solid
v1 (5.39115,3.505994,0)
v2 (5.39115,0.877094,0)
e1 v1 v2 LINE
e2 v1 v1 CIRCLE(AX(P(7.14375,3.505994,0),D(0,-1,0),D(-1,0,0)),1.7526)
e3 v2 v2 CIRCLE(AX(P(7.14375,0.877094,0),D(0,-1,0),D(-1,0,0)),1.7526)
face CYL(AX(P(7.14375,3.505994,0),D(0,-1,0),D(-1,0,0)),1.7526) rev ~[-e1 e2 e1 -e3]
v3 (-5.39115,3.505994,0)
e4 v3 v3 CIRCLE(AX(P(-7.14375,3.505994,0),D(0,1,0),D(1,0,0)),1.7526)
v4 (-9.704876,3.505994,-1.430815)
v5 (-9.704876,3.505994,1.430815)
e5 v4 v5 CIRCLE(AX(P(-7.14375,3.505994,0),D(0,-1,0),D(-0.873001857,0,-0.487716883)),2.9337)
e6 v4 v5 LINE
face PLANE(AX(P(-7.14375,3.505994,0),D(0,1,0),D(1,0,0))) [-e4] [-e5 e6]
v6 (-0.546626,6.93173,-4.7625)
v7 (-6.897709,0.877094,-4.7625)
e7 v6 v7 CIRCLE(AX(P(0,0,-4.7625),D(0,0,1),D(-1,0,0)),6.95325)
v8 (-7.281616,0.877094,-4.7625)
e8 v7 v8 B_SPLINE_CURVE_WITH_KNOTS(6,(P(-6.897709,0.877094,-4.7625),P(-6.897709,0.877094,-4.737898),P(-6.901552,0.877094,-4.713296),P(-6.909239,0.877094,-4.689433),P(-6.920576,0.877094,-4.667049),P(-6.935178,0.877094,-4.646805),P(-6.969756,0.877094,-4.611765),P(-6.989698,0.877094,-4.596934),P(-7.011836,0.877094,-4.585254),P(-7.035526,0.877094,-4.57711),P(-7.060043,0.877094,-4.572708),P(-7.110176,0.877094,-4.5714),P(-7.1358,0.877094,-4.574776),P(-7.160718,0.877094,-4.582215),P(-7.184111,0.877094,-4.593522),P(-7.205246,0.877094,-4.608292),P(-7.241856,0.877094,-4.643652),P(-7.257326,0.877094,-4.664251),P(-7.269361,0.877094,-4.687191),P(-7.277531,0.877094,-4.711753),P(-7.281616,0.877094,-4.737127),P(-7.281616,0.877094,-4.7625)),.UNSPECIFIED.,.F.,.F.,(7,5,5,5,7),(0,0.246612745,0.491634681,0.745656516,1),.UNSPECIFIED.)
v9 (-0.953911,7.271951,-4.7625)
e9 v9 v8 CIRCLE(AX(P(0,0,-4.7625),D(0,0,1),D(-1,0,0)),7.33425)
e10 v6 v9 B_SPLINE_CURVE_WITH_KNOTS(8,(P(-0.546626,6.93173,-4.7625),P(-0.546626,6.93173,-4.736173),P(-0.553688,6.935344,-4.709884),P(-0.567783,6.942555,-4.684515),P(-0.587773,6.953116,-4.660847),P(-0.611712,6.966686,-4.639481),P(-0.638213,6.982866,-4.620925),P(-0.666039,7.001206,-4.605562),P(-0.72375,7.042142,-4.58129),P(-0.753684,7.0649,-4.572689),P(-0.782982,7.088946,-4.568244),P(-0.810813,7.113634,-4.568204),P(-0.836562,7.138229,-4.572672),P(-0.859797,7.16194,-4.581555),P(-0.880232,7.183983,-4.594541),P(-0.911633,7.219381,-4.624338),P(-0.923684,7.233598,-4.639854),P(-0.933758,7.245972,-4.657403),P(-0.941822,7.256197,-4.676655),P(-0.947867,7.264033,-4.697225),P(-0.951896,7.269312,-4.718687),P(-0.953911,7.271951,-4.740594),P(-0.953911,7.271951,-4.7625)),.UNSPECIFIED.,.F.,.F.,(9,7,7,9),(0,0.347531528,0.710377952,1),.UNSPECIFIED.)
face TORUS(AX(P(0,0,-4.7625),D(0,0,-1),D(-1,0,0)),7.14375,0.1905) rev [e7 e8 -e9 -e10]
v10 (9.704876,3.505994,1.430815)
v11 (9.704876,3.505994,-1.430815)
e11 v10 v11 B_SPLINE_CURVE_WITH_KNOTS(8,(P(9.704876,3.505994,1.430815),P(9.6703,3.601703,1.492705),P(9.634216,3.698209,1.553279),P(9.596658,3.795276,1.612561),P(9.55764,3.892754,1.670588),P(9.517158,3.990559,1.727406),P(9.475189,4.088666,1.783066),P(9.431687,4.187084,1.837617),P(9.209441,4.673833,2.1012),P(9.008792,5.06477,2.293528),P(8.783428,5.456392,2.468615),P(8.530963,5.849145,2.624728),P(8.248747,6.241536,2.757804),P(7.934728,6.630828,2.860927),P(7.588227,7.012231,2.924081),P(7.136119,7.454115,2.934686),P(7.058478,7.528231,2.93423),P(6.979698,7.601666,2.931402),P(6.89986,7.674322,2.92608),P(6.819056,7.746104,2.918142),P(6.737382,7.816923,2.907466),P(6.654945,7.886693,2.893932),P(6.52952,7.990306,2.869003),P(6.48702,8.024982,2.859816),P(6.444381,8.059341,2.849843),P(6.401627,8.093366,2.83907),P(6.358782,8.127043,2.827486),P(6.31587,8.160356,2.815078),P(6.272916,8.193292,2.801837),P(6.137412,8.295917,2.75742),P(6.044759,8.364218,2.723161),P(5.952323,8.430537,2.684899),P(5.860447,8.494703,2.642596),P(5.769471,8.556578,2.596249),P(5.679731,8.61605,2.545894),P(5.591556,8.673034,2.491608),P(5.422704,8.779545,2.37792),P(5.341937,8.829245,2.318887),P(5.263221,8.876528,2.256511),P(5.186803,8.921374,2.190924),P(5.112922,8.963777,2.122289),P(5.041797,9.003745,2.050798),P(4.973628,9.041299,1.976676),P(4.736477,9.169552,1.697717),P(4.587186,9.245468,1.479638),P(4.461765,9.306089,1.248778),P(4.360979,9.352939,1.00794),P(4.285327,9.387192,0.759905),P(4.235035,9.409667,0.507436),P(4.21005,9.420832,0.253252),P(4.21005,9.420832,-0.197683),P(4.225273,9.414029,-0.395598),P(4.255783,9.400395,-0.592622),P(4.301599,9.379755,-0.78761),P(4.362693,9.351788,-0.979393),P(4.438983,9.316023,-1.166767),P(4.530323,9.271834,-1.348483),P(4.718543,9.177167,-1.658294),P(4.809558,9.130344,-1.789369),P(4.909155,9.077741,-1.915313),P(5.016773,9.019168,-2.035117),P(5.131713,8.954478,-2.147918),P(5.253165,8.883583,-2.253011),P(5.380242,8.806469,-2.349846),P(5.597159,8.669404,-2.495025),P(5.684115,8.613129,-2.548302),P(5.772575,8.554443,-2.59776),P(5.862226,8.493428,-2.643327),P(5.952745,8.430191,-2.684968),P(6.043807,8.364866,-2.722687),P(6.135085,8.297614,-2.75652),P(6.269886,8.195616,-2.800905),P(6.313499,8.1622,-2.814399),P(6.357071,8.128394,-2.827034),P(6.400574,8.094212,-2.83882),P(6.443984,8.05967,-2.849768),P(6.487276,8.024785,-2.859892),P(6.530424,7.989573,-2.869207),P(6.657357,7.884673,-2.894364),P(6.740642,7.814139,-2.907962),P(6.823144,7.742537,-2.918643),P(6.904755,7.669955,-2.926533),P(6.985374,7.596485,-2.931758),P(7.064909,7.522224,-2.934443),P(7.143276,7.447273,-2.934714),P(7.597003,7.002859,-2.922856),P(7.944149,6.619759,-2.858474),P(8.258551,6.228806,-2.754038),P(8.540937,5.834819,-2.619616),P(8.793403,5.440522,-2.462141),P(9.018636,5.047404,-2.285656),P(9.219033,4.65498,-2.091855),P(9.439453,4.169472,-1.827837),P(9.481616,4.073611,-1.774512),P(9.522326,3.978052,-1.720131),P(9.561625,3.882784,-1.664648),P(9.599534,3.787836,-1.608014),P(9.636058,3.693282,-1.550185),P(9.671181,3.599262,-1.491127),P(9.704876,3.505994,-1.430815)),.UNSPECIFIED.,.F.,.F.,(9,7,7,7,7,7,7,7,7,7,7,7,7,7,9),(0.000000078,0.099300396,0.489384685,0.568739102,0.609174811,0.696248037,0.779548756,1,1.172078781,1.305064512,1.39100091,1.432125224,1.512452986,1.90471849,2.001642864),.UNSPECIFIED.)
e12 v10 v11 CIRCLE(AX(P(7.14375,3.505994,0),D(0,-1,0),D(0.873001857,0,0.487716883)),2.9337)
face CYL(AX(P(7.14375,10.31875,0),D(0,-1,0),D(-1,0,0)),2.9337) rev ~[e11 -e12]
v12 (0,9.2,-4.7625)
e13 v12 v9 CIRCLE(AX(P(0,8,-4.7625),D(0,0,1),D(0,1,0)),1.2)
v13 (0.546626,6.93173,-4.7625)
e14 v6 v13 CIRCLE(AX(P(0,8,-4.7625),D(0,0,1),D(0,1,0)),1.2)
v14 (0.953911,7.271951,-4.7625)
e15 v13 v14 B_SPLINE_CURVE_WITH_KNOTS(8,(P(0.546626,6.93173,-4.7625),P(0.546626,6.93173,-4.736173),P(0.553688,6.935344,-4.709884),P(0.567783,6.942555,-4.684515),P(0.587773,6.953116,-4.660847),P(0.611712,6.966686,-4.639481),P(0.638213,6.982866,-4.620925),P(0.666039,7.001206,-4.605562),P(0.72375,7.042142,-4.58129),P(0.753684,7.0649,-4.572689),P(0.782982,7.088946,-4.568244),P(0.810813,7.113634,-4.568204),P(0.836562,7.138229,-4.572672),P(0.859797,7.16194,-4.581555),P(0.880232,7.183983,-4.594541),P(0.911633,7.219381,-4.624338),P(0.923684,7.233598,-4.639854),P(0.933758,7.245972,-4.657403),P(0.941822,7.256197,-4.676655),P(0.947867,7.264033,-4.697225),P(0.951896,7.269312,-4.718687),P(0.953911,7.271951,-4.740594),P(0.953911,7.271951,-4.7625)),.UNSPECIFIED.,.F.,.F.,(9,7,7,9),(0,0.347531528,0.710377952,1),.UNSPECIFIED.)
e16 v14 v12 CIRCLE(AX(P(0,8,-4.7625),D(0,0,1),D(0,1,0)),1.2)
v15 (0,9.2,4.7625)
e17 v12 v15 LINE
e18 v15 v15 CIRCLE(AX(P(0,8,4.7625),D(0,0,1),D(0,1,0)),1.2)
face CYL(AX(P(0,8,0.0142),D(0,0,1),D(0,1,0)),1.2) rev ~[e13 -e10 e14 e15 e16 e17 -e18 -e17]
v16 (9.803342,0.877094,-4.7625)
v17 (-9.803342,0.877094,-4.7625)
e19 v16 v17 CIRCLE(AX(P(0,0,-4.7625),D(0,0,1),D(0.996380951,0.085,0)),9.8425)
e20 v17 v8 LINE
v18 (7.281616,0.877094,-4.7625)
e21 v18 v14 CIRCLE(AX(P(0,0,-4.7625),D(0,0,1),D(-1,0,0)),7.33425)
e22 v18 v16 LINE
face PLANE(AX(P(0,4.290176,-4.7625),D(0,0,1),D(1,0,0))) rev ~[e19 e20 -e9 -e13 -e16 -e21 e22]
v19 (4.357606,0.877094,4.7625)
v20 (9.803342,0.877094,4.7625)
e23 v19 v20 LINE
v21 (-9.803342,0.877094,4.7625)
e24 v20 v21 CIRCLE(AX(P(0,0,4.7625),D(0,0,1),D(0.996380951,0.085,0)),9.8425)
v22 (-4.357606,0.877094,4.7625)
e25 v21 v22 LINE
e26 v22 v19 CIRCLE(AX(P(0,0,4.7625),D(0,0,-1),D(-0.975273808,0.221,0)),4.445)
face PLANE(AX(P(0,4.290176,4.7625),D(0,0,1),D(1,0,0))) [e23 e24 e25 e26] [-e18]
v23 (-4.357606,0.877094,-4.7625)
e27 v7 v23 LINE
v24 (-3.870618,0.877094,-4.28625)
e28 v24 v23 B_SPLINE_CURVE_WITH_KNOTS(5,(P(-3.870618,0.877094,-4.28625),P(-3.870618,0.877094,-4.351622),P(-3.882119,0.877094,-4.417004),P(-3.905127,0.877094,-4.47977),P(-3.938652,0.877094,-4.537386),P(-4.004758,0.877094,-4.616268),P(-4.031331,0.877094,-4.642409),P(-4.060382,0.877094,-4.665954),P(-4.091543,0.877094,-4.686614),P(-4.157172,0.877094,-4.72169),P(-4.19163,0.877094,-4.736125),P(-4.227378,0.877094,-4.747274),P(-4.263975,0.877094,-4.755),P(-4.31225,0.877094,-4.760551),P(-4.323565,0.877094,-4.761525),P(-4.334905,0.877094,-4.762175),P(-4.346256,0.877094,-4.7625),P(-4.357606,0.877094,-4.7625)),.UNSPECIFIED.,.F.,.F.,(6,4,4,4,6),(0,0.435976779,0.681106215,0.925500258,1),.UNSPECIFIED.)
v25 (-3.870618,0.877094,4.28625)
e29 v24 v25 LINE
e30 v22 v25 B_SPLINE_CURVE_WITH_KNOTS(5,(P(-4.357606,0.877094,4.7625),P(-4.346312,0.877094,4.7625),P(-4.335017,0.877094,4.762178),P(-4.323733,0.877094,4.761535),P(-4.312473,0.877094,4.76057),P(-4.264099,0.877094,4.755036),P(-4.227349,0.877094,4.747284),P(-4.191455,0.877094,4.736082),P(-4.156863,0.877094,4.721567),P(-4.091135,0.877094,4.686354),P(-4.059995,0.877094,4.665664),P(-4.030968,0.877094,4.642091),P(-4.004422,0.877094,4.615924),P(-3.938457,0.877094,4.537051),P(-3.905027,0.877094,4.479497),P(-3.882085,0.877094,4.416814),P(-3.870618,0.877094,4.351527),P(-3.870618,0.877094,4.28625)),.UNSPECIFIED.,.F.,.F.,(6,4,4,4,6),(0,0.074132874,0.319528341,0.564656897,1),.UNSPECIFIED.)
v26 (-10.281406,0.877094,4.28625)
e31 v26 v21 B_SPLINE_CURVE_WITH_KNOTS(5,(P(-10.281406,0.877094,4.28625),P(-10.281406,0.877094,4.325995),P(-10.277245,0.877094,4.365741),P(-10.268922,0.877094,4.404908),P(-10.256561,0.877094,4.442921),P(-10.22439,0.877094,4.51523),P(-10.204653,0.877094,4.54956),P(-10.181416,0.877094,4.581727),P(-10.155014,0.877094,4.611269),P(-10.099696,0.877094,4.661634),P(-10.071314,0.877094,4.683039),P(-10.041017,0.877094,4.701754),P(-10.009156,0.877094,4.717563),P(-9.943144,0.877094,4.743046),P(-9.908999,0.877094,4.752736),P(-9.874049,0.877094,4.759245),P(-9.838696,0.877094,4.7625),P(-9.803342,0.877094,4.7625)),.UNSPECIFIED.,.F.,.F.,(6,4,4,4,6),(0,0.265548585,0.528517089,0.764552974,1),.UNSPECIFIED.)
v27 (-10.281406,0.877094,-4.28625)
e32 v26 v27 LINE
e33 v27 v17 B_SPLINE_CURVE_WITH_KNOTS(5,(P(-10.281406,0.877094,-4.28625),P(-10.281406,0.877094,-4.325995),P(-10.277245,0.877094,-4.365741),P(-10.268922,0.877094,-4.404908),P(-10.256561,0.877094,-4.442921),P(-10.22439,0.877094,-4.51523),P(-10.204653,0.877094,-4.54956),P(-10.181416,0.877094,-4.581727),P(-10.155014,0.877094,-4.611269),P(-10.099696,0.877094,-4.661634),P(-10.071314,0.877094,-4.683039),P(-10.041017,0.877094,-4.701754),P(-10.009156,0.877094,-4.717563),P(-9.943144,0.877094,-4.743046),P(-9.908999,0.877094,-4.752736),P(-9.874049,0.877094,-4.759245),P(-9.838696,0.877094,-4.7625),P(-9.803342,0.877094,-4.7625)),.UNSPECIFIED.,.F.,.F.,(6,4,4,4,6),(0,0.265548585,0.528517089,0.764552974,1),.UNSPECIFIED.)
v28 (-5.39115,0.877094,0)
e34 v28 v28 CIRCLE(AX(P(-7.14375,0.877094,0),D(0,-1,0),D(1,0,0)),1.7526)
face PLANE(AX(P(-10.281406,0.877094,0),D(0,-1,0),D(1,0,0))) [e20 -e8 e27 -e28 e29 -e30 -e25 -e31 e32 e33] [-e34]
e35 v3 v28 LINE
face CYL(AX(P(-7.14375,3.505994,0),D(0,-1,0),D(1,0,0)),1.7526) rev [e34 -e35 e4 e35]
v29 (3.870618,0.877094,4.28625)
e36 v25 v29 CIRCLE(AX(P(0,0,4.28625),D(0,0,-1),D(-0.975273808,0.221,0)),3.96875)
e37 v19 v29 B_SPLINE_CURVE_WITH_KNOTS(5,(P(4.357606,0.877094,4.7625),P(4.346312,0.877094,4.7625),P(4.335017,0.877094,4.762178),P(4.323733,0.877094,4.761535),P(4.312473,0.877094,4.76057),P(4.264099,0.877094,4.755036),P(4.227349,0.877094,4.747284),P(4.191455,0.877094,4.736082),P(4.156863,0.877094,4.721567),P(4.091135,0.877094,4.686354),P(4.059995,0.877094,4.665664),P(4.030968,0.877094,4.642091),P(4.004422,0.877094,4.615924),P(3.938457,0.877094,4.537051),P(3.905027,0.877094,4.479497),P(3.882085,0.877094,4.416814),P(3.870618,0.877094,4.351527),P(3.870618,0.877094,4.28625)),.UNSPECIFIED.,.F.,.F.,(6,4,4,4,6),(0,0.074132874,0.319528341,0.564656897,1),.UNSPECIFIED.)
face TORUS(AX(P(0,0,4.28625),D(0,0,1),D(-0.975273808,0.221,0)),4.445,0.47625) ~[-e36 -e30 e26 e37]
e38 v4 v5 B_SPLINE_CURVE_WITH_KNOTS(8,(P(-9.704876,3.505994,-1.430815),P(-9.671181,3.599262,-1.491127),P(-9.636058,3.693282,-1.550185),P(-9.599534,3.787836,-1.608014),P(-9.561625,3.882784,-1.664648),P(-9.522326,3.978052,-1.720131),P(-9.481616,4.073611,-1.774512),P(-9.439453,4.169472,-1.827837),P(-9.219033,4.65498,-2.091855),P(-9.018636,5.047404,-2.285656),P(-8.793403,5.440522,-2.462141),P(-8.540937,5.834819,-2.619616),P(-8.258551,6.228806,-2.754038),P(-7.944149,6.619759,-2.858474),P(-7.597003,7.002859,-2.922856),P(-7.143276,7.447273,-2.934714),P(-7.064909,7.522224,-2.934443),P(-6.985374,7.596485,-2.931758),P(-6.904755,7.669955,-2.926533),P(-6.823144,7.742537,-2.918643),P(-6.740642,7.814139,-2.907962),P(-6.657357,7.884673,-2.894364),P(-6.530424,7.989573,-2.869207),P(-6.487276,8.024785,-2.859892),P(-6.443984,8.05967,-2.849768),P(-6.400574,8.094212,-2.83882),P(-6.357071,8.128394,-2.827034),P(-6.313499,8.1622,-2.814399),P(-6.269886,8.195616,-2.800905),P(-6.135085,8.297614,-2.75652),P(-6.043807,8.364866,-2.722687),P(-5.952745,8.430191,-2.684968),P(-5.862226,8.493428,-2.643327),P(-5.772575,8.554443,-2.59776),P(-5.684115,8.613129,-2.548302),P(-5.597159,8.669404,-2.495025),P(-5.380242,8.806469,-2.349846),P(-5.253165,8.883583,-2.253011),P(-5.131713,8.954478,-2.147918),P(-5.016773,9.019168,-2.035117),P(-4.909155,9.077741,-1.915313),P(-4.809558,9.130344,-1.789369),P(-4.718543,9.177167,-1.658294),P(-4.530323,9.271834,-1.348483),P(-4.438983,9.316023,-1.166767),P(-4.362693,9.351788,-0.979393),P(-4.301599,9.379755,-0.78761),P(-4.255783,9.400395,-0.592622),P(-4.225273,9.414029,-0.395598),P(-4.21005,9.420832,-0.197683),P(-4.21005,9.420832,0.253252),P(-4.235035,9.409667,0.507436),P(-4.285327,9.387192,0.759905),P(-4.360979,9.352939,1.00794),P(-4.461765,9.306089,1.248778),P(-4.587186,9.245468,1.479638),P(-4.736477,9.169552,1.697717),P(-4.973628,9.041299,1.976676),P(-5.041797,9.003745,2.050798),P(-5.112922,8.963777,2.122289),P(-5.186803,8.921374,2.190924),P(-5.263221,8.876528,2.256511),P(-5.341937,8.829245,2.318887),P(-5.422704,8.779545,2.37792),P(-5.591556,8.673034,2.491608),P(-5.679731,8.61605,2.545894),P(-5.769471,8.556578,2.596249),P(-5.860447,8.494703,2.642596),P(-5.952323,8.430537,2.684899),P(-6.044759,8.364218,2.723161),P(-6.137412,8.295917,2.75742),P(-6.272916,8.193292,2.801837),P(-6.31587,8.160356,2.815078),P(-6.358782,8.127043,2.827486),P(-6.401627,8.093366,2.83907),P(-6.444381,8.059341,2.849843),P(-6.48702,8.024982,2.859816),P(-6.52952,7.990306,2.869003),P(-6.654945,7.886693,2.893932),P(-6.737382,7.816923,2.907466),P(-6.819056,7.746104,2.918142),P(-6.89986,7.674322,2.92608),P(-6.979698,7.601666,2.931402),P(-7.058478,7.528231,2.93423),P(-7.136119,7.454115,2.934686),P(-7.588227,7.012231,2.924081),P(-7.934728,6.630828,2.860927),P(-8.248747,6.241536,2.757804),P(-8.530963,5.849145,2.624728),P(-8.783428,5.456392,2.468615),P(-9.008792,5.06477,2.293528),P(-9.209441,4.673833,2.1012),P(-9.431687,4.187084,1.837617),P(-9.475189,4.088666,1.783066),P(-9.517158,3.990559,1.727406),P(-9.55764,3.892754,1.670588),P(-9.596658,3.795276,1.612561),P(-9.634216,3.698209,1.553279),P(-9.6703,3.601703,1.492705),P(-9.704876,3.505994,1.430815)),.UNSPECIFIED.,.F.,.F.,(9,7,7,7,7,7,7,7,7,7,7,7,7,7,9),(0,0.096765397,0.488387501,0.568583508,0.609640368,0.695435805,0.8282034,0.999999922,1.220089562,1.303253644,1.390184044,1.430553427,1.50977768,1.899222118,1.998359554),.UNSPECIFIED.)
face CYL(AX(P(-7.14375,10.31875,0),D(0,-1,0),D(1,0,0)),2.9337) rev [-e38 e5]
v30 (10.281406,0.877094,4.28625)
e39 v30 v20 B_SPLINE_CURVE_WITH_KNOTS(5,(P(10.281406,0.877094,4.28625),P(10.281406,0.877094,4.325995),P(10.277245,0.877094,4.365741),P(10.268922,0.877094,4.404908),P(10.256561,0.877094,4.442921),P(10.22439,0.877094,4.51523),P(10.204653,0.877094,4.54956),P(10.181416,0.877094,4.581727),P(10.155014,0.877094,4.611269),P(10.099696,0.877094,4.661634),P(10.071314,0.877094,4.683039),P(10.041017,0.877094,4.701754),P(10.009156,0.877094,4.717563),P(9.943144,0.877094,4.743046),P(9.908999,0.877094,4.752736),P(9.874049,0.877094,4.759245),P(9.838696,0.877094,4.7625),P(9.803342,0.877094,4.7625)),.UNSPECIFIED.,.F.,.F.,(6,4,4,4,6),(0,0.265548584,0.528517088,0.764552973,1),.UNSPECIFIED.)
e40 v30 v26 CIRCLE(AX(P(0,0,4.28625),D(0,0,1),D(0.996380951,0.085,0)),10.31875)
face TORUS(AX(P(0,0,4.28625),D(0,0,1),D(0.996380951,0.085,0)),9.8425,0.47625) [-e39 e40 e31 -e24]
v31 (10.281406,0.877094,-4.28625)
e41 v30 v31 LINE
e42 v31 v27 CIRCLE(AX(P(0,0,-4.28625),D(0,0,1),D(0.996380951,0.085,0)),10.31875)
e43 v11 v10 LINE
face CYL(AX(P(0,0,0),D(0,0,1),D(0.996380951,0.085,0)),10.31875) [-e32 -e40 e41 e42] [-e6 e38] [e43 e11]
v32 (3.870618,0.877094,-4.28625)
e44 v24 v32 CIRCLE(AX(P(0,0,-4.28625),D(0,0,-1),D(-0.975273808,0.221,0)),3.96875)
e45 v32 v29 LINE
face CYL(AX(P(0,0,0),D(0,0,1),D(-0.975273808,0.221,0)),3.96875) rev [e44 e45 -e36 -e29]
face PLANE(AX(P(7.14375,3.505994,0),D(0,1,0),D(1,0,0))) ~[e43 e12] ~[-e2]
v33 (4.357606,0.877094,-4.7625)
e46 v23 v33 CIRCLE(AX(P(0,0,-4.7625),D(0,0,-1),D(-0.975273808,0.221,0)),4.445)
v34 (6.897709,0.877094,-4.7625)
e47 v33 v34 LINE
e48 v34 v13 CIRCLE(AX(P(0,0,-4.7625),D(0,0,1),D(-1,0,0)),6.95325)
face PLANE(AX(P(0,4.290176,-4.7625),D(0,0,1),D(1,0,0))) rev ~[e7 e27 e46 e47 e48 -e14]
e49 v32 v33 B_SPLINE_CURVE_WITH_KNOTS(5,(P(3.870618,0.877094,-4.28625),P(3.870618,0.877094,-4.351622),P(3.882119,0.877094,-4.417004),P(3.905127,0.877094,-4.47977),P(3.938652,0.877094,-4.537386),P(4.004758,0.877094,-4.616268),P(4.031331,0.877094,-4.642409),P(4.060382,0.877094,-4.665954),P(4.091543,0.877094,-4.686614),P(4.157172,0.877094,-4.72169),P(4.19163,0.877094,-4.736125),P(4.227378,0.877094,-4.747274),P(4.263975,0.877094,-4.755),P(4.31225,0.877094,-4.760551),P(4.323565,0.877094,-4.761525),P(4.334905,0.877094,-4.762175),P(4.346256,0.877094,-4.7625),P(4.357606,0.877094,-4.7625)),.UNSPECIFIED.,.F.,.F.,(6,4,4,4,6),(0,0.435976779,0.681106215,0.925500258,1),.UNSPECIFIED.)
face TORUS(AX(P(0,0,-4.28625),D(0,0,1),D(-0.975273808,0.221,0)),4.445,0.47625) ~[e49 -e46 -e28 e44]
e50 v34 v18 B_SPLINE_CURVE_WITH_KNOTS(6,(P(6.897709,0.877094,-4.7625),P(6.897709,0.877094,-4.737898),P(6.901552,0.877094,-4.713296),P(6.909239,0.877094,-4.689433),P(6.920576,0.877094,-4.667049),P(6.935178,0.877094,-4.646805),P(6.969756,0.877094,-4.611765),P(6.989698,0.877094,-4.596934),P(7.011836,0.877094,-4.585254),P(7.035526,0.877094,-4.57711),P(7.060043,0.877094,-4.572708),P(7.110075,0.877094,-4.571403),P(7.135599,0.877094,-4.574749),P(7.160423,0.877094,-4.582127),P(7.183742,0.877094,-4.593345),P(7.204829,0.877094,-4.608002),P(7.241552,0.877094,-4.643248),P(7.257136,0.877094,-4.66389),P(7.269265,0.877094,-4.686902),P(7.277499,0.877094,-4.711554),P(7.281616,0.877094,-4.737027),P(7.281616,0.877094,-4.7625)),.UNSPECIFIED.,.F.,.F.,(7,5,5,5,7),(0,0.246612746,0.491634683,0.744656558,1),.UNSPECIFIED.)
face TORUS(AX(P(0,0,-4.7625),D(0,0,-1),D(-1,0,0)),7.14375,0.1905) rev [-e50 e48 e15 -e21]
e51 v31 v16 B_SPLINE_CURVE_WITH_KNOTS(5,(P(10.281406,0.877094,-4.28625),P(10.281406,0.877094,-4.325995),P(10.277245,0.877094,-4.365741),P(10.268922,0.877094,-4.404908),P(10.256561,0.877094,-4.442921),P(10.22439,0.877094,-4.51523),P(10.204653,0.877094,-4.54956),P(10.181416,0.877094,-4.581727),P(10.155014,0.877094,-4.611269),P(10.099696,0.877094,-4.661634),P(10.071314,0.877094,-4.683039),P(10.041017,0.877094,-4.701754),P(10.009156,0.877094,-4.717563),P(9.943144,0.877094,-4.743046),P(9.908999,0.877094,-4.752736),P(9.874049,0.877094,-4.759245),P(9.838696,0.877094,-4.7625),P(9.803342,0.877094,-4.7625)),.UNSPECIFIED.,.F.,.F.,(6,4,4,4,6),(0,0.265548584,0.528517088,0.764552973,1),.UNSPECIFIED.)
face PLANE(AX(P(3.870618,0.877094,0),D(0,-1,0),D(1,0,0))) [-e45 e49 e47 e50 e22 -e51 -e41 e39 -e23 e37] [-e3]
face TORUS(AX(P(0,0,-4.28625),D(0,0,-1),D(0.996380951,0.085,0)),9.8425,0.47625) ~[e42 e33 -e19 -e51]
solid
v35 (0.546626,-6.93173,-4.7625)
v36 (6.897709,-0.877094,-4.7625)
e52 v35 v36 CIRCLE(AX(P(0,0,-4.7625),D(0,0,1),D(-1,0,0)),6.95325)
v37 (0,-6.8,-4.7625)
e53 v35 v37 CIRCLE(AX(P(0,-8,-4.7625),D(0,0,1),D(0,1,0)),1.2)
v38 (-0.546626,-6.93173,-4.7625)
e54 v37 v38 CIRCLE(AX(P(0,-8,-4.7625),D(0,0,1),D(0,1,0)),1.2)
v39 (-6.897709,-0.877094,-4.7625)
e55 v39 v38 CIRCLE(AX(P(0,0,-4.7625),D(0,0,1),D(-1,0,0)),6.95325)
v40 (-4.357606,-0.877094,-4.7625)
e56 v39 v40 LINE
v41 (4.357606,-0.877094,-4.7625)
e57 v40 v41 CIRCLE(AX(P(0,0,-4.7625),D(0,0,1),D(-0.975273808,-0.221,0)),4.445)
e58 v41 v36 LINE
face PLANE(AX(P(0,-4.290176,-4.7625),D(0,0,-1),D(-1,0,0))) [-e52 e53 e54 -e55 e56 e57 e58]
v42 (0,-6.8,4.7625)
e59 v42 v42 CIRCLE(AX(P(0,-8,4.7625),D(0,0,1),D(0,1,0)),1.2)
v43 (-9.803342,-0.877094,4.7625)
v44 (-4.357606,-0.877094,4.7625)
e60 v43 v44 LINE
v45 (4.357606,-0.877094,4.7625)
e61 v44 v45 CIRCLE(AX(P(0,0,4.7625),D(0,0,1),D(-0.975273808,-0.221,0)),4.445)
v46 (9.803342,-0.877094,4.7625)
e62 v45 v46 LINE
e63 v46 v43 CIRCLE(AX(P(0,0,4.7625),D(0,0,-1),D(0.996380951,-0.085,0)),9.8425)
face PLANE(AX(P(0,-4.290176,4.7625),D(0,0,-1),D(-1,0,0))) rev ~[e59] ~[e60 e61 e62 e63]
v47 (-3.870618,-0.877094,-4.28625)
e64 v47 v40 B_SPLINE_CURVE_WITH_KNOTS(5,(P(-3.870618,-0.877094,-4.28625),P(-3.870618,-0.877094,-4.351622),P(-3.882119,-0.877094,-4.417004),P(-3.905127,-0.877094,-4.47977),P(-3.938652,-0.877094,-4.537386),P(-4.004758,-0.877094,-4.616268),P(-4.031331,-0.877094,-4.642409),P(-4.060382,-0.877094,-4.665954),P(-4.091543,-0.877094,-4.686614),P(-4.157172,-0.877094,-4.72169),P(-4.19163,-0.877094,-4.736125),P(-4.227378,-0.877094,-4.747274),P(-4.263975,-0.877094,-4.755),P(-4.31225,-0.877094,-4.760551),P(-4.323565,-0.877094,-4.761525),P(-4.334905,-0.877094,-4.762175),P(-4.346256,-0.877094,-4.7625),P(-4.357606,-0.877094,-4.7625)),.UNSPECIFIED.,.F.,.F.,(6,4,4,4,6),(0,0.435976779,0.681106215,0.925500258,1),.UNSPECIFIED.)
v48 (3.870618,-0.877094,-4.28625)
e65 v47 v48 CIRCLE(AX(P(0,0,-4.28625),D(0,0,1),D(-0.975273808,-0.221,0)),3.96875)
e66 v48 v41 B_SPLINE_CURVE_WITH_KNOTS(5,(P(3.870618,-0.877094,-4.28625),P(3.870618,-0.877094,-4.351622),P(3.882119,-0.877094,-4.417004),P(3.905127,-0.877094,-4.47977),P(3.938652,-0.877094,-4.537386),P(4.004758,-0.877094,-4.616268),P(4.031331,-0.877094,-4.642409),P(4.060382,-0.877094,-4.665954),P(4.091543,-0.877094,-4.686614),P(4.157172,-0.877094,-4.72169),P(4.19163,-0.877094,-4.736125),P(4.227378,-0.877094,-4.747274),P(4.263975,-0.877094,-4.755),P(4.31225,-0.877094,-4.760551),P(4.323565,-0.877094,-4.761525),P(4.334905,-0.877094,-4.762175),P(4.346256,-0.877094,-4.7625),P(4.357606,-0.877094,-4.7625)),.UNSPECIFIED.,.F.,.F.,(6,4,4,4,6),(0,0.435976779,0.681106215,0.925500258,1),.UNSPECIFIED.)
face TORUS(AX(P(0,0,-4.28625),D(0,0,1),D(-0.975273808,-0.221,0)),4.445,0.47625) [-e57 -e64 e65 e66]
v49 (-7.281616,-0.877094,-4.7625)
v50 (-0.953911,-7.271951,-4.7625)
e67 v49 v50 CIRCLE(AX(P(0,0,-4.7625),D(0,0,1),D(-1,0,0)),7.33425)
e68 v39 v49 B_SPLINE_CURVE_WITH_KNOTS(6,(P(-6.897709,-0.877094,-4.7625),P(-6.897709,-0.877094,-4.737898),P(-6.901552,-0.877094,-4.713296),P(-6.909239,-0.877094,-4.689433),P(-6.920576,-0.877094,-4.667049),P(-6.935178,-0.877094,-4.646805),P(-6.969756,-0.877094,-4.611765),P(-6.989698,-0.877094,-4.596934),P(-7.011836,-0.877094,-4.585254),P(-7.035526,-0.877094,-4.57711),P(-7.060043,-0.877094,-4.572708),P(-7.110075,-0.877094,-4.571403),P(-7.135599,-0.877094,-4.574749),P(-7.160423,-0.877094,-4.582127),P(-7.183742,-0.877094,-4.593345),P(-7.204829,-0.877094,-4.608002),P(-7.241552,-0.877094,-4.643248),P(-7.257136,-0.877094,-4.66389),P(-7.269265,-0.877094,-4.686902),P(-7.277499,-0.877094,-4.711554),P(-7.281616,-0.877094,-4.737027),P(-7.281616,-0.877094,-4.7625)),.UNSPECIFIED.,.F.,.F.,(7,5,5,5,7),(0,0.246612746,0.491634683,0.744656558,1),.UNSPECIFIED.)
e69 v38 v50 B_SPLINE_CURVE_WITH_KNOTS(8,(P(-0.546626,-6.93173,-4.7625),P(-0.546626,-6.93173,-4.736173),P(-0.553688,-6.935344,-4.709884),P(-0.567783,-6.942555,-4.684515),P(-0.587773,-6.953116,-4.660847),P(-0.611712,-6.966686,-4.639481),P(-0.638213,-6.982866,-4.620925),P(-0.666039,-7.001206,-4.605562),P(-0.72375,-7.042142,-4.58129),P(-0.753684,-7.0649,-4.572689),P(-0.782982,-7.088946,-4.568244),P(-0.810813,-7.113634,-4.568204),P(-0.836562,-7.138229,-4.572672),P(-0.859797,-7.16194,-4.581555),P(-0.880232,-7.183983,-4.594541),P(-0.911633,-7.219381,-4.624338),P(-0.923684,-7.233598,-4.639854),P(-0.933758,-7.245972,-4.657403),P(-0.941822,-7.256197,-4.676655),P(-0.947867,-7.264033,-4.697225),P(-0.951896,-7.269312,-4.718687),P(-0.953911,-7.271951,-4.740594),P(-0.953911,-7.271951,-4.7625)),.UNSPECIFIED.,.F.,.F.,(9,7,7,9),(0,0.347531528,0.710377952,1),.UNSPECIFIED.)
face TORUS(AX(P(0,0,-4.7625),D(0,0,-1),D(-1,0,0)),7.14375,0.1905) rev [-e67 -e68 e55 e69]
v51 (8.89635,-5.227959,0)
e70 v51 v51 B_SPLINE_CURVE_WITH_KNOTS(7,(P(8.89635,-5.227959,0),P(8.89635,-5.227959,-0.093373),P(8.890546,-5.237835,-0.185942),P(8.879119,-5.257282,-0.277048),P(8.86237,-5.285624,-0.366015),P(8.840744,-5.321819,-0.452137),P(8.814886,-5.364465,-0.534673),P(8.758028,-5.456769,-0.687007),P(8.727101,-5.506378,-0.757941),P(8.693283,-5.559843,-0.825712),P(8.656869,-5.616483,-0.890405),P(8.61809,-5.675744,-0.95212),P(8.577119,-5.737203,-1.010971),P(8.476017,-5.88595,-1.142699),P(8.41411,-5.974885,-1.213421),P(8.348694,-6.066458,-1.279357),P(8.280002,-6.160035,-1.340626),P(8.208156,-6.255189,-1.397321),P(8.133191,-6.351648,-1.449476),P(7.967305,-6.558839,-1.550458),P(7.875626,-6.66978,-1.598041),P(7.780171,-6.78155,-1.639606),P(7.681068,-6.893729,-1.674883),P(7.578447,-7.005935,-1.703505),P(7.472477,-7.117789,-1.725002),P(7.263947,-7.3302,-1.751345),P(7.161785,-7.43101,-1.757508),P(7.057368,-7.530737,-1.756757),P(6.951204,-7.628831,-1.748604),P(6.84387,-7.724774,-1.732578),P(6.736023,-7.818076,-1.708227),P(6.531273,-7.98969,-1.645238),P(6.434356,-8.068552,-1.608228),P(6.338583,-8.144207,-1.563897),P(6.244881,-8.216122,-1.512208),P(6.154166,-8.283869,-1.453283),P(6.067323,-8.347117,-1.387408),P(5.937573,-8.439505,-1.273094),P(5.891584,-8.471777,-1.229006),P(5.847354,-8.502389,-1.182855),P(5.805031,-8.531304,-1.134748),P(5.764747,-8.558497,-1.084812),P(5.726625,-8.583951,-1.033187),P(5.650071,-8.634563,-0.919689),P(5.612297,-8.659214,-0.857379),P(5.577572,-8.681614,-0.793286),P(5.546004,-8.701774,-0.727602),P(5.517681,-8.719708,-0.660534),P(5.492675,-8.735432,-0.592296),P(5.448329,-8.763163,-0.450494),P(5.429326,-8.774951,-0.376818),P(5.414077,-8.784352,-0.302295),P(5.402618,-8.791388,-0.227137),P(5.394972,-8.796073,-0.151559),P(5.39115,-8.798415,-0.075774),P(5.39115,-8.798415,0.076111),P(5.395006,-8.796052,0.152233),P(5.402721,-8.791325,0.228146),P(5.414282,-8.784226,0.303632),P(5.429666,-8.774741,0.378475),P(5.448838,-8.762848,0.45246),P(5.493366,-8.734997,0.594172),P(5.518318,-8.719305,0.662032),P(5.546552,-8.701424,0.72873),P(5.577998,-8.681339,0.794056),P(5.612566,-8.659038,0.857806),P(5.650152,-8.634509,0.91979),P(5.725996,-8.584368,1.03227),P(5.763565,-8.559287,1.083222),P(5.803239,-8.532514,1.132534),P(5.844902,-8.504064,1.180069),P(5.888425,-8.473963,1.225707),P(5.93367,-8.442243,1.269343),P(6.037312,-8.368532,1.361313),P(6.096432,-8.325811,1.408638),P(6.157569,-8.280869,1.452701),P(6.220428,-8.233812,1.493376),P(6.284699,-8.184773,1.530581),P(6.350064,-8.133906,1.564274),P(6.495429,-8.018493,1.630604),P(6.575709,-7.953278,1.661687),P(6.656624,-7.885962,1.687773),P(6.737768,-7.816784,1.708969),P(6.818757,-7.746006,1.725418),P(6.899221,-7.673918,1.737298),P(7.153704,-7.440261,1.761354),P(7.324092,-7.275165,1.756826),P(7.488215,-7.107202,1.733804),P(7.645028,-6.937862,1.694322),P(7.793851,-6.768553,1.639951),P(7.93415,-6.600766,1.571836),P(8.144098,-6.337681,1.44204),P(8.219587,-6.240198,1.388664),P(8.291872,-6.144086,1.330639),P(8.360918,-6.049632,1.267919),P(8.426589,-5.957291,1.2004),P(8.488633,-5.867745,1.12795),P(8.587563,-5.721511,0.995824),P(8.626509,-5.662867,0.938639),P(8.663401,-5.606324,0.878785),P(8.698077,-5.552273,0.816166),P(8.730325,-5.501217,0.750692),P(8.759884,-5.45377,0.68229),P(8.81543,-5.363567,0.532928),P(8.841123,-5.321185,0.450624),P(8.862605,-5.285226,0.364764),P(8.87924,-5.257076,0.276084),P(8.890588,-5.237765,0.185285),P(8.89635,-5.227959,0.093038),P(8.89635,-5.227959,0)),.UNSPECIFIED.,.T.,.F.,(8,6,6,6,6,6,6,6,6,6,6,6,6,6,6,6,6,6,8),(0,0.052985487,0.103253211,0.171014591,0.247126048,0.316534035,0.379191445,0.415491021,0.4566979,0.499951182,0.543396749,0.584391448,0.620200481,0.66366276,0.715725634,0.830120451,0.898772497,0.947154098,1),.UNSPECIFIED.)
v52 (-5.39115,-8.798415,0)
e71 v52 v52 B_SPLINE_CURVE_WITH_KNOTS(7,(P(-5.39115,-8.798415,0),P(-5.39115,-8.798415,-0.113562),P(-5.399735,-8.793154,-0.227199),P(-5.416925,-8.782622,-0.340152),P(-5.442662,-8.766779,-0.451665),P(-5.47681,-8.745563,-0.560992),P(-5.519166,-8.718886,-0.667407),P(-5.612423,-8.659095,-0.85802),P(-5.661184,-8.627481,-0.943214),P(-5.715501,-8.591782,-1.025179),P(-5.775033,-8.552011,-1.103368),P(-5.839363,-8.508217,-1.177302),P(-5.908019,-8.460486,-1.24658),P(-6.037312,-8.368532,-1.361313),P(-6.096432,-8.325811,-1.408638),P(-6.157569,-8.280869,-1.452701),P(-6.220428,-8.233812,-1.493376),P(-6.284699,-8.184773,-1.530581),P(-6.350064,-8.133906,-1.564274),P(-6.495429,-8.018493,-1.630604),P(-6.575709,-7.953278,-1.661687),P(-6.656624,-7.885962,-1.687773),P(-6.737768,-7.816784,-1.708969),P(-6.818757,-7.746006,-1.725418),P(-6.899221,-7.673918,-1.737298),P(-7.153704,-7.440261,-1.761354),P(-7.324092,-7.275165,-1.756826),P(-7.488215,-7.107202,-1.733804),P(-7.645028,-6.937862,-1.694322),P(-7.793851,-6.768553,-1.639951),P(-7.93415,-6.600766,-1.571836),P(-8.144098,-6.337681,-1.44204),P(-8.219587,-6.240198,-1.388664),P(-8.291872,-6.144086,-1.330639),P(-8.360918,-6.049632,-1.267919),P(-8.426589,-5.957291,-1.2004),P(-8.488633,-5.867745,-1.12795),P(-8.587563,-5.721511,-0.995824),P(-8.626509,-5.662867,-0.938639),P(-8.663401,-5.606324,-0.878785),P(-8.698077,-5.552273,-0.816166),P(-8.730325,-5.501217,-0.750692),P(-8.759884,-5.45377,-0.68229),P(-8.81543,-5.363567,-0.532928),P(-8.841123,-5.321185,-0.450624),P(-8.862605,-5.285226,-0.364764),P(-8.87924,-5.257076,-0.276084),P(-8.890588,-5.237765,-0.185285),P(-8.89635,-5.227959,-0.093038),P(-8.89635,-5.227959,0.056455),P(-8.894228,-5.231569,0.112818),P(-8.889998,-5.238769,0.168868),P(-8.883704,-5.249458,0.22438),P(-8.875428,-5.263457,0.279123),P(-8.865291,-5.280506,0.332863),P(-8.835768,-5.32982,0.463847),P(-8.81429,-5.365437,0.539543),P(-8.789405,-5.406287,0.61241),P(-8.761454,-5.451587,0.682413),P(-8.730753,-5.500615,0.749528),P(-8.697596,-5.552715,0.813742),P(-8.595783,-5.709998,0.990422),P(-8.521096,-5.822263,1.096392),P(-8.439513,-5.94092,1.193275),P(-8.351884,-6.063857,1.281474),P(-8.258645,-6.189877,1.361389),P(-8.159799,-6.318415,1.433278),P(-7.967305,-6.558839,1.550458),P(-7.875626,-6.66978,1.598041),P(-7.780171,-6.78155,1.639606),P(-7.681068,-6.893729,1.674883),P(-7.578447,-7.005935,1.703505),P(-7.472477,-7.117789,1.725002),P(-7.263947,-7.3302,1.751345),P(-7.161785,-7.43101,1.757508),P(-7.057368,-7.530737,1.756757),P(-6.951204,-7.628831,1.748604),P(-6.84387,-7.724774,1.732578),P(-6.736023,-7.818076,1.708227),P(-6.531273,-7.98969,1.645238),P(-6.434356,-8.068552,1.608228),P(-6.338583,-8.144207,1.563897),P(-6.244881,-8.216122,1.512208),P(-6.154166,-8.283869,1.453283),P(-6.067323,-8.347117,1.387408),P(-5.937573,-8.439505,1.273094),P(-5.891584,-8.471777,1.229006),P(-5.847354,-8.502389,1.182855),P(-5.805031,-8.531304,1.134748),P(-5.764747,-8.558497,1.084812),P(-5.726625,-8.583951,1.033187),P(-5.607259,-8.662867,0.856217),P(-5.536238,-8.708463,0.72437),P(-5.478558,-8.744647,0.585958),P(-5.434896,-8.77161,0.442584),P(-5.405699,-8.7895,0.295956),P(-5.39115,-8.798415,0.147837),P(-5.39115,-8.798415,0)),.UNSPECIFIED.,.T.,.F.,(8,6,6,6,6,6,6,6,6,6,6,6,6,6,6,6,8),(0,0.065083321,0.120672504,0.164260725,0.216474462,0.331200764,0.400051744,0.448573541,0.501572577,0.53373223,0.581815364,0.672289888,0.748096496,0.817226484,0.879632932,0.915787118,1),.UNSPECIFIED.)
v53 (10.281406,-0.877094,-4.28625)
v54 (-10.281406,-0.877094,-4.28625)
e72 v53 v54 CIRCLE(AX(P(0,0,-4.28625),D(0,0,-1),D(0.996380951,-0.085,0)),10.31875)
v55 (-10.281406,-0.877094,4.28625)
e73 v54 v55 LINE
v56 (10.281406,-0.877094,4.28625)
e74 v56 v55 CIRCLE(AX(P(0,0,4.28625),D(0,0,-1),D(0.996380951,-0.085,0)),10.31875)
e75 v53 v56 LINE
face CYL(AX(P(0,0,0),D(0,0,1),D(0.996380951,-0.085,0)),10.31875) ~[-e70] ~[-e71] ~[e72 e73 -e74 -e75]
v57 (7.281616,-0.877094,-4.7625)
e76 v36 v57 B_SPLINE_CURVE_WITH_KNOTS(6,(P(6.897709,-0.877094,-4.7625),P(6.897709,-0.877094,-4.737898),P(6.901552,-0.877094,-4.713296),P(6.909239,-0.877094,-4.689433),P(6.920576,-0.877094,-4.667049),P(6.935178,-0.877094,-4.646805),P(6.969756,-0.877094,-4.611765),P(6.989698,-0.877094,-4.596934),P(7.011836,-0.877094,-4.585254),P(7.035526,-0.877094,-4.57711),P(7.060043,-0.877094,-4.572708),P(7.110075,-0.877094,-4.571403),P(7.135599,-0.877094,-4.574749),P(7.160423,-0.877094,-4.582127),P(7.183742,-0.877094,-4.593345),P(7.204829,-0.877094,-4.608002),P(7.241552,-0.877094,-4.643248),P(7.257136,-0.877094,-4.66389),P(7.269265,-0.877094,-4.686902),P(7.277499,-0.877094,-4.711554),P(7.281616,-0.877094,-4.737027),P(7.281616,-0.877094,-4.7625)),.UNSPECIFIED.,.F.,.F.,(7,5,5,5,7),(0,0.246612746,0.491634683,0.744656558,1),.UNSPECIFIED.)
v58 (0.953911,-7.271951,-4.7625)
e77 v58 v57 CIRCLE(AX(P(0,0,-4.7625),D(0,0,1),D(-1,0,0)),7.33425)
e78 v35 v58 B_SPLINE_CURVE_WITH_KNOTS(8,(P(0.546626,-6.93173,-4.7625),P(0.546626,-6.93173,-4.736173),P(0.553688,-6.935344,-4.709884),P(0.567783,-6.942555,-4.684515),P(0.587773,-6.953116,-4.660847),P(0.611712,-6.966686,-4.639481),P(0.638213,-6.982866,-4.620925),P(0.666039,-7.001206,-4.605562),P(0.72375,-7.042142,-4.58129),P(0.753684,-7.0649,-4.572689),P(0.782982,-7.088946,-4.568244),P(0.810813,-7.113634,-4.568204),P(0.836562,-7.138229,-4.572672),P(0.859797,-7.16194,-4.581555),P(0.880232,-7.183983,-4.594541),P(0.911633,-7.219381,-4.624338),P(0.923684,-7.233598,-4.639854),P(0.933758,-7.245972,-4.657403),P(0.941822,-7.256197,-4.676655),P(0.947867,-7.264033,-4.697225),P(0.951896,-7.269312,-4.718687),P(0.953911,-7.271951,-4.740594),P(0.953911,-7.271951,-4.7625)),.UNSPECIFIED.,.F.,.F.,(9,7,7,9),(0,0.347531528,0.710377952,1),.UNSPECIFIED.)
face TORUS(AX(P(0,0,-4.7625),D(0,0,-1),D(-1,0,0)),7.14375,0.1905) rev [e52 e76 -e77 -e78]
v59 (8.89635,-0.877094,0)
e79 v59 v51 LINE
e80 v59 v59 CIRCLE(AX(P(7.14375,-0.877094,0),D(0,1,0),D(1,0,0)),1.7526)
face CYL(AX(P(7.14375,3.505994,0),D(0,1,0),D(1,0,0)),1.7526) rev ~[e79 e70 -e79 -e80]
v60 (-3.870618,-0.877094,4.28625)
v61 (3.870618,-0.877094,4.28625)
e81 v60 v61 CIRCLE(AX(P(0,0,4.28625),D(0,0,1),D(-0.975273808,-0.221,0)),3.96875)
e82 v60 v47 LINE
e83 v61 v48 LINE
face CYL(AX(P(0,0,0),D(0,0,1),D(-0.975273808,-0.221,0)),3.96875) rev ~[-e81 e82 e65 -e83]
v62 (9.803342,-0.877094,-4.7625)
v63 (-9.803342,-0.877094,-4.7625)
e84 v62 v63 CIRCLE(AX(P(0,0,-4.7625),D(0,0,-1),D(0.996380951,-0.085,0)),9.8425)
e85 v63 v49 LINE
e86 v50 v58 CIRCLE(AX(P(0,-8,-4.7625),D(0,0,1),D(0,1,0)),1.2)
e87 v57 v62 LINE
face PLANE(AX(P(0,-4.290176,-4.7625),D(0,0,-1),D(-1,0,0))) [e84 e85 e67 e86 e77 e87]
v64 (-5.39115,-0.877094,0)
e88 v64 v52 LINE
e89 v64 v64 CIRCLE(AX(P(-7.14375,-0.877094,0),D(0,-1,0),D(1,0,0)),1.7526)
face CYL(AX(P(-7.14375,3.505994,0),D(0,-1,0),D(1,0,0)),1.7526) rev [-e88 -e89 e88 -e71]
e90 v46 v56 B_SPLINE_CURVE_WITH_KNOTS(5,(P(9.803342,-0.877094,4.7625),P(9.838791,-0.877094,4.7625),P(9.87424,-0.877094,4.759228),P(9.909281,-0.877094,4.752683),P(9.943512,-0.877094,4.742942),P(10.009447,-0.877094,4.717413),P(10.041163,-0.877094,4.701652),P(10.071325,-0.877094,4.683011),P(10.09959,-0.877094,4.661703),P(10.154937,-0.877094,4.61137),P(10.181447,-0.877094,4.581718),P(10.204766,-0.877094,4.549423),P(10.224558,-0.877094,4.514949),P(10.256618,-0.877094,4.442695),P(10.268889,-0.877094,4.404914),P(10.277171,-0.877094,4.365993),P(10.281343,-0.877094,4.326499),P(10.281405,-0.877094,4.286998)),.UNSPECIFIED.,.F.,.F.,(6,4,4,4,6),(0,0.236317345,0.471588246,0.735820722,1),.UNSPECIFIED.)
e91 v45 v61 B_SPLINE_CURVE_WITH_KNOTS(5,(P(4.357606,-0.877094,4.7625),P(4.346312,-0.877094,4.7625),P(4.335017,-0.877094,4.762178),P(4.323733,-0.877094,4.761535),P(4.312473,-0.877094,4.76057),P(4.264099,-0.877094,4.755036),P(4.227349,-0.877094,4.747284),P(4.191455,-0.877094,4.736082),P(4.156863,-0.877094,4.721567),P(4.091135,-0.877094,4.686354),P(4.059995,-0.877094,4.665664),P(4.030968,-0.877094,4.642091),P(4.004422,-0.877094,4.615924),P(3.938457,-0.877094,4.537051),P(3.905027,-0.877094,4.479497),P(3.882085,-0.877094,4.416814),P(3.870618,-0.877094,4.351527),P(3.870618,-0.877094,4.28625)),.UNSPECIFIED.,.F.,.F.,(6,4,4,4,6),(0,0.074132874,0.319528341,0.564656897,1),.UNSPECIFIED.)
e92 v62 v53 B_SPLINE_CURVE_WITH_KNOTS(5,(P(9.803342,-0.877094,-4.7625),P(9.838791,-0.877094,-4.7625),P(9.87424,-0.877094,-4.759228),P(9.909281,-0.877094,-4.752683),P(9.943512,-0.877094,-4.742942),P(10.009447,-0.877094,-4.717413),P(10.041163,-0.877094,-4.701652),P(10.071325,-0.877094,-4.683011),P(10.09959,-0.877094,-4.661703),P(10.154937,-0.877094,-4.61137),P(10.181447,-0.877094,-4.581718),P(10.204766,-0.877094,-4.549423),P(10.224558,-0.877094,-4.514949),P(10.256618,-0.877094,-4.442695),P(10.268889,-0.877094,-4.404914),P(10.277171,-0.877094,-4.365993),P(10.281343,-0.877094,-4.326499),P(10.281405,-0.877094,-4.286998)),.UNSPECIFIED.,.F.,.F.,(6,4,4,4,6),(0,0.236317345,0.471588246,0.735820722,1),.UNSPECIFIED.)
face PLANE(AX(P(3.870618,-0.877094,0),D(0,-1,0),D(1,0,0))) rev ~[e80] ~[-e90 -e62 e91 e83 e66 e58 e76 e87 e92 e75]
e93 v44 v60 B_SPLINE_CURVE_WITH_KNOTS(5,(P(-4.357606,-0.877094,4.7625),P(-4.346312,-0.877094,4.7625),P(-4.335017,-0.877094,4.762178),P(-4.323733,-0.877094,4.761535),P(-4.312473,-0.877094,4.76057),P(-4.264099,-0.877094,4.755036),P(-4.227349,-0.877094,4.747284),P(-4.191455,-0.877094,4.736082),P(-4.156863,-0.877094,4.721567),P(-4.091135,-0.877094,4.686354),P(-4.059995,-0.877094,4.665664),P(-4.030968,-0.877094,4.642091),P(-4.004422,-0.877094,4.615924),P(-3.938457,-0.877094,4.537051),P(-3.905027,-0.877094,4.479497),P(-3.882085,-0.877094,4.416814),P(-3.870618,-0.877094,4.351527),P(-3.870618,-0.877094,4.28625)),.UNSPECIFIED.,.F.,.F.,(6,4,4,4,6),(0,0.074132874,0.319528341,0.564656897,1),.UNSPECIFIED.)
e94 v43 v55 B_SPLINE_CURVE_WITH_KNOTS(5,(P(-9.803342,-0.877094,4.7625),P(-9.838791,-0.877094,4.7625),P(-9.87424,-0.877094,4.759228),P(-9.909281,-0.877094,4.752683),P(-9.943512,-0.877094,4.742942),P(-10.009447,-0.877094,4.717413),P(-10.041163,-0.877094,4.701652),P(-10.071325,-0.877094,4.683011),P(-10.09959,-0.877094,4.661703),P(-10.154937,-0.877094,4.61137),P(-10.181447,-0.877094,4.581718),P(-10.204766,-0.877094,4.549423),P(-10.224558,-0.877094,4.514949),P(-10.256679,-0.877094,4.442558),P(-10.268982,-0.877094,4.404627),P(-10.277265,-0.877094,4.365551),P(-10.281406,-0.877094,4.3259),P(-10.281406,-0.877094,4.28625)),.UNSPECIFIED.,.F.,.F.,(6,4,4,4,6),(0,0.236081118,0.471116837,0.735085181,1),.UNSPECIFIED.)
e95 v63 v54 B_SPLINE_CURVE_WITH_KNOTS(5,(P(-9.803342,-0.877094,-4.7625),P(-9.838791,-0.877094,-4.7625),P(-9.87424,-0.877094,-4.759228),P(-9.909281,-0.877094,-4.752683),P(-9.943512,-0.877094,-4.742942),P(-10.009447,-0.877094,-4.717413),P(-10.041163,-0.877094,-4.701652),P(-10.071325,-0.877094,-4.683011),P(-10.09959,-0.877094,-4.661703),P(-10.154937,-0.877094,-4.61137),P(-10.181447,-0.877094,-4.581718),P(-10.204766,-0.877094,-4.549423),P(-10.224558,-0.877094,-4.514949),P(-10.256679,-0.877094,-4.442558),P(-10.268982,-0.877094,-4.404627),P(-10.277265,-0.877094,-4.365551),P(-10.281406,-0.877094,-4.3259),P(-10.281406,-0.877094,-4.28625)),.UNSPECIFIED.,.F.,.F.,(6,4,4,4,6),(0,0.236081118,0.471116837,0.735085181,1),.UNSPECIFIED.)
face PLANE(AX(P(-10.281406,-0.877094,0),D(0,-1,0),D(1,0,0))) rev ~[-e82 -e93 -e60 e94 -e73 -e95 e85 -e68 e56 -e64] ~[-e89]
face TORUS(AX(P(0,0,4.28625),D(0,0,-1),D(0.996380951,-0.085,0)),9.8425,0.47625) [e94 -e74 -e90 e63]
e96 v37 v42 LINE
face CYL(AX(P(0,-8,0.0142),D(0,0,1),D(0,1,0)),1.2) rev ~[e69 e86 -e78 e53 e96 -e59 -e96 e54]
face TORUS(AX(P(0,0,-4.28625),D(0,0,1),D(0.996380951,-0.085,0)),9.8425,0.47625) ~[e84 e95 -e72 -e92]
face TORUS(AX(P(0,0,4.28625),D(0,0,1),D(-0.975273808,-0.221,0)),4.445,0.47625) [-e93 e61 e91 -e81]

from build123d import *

# Parameters (mm, degrees)
EXTRUDE1_DEPTH                = 4.7625
EXTRUDE1_2_DEPTH              = 4.7625
FILLET1_R                     = 0.47625
FILLET2_R                     = 0.47625
SKETCH8_R                     = 1.7526
CUT_EXTRUDE3_DEPTH            = 14.82474385
SKETCH10_W                    = 1.2
SKETCH10_H                    = 9.553399824
M2_CLEARANCE_HOLE1_AT_2_COUNT = 2
M2_CLEARANCE_HOLE1_AT_2_PITCH = 16


with BuildPart() as part:
    # Sketch1 → Extrude1 (new body, symmetric)
    with BuildSketch(Plane.XY):
        with BuildLine():
            Line((-10.281405941, 0.87709375), (-3.870617924, 0.87709375))
            ThreePointArc((-3.870617924, 0.87709375), (0, 3.96875), (3.870617924, 0.87709375))
            Line((3.870617924, 0.87709375), (10.281405941, 0.87709375))
            ThreePointArc((10.281405941, 0.87709375), (0, 10.31875), (-10.281405941, 0.87709375))
        make_face()
    extrude(amount=EXTRUDE1_DEPTH, both=True)

    # Fillet1
    fillet1_edges = [part.edges().sort_by_distance(p)[0] for p in [
        (0, 3.96875, 4.7625),
        (0, 10.31875, 4.7625),
        (0, 3.96875, -4.7625),
        (0, 10.31875, -4.7625),
    ]]
    fillet(fillet1_edges, radius=FILLET1_R)


with BuildPart() as body_2:
    # Sketch1 → Extrude1 2 (new body, symmetric)
    with BuildSketch(Plane.XY):
        with BuildLine():
            Line((-10.281405941, -0.87709375), (-3.870617924, -0.87709375))
            ThreePointArc((-3.870617924, -0.87709375), (0, -3.96875), (3.870617924, -0.87709375))
            Line((3.870617924, -0.87709375), (10.281405941, -0.87709375))
            ThreePointArc((10.281405941, -0.87709375), (0, -10.31875), (-10.281405941, -0.87709375))
        make_face()
    extrude(amount=EXTRUDE1_2_DEPTH, both=True)

    # Fillet2
    fillet2_edges = [body_2.edges().sort_by_distance(p)[0] for p in [
        (0, -3.96875, 4.7625),
        (0, -10.31875, 4.7625),
        (0, -3.96875, -4.7625),
        (0, -10.31875, -4.7625),
    ]]
    fillet(fillet2_edges, radius=FILLET2_R)


with BuildPart() as cut_revolve1_tool:
    # Sketch2 → Cut-Revolve1 (revolve)
    with BuildSketch(Plane(origin=(0, 0, 0), x_dir=(1, 0, 0), z_dir=(0, 1, 0))):
        with BuildLine():
            Line((-7.33425, 4.7625), (-6.95325, 4.7625))
            ThreePointArc((-6.95325, 4.7625), (-7.14375, 4.572), (-7.33425, 4.7625))
        make_face()
    revolve(axis=Axis((0, 0, -4.7625), (0, 0, 1)))


with BuildPart() as part_1:
    add(part.part)

    # Cut-Revolve1: cut by cut_revolve1_tool
    add(cut_revolve1_tool.part, mode=Mode.SUBTRACT)


with BuildPart() as body_2_1:
    add(body_2.part)

    # Cut-Revolve1: cut by cut_revolve1_tool
    add(cut_revolve1_tool.part, mode=Mode.SUBTRACT)


with BuildPart() as cut_revolve2_tool:
    # Sketch3 → Cut-Revolve2 (revolve)
    with BuildSketch(Plane.XY):
        Polygon((-7.14375, 10.31875), (-4.21005, 10.31875), (-4.21005, 3.50599375), (-5.39115, 3.50599375), (-5.39115, -10.31875), (-7.14375, -10.31875), align=None)
    cut_revolve2 = revolve(axis=Axis((-7.14375, -10.31875, 0), (0, 1, 0)))


with BuildPart() as part_2:
    add(part_1.part)

    # Cut-Revolve2: cut by cut_revolve2_tool
    add(cut_revolve2_tool.part, mode=Mode.SUBTRACT)

    # Mirror1: Cut-Revolve2 across plane
    add(cut_revolve2.mirror(Plane(origin=(0, 0, 0), x_dir=(0, 0, 1), z_dir=(1, 0, 0))), mode=Mode.SUBTRACT)

    # Sketch10 → M2 Clearance Hole1 (revolve, cut)
    with BuildSketch(Plane(origin=(0, 8, -4.7625), x_dir=(0, 1, 0), z_dir=(1, 0, 0))):
        with Locations((0.6, 4.776699912)):
            Rectangle(SKETCH10_W, SKETCH10_H)
    m2_clearance_hole1 = revolve(axis=Axis((0, 8, -11.1125), (0, 0, 1)), mode=Mode.SUBTRACT)


with BuildPart() as body_2_2:
    add(body_2_1.part)

    # Cut-Revolve2: cut by cut_revolve2_tool
    add(cut_revolve2_tool.part, mode=Mode.SUBTRACT)

    # Sketch8 → Cut-Extrude3 (cut, through all)
    with BuildSketch(Plane(origin=(0, 3.50599375, 0), x_dir=(1, 0, 0), z_dir=(0, 1, 0))):
        with Locations((7.14375, 0)):
            Circle(SKETCH8_R)
    extrude(amount=-CUT_EXTRUDE3_DEPTH, mode=Mode.SUBTRACT)

    # M2 Clearance Hole1 at 2: M2 Clearance Hole1 ×2
    with Locations(*[(0, -i * M2_CLEARANCE_HOLE1_AT_2_PITCH, 0) for i in range(1, M2_CLEARANCE_HOLE1_AT_2_COUNT)]):
        add(m2_clearance_hole1, mode=Mode.SUBTRACT)


solid = Compound([part_2.part, body_2_2.part])
